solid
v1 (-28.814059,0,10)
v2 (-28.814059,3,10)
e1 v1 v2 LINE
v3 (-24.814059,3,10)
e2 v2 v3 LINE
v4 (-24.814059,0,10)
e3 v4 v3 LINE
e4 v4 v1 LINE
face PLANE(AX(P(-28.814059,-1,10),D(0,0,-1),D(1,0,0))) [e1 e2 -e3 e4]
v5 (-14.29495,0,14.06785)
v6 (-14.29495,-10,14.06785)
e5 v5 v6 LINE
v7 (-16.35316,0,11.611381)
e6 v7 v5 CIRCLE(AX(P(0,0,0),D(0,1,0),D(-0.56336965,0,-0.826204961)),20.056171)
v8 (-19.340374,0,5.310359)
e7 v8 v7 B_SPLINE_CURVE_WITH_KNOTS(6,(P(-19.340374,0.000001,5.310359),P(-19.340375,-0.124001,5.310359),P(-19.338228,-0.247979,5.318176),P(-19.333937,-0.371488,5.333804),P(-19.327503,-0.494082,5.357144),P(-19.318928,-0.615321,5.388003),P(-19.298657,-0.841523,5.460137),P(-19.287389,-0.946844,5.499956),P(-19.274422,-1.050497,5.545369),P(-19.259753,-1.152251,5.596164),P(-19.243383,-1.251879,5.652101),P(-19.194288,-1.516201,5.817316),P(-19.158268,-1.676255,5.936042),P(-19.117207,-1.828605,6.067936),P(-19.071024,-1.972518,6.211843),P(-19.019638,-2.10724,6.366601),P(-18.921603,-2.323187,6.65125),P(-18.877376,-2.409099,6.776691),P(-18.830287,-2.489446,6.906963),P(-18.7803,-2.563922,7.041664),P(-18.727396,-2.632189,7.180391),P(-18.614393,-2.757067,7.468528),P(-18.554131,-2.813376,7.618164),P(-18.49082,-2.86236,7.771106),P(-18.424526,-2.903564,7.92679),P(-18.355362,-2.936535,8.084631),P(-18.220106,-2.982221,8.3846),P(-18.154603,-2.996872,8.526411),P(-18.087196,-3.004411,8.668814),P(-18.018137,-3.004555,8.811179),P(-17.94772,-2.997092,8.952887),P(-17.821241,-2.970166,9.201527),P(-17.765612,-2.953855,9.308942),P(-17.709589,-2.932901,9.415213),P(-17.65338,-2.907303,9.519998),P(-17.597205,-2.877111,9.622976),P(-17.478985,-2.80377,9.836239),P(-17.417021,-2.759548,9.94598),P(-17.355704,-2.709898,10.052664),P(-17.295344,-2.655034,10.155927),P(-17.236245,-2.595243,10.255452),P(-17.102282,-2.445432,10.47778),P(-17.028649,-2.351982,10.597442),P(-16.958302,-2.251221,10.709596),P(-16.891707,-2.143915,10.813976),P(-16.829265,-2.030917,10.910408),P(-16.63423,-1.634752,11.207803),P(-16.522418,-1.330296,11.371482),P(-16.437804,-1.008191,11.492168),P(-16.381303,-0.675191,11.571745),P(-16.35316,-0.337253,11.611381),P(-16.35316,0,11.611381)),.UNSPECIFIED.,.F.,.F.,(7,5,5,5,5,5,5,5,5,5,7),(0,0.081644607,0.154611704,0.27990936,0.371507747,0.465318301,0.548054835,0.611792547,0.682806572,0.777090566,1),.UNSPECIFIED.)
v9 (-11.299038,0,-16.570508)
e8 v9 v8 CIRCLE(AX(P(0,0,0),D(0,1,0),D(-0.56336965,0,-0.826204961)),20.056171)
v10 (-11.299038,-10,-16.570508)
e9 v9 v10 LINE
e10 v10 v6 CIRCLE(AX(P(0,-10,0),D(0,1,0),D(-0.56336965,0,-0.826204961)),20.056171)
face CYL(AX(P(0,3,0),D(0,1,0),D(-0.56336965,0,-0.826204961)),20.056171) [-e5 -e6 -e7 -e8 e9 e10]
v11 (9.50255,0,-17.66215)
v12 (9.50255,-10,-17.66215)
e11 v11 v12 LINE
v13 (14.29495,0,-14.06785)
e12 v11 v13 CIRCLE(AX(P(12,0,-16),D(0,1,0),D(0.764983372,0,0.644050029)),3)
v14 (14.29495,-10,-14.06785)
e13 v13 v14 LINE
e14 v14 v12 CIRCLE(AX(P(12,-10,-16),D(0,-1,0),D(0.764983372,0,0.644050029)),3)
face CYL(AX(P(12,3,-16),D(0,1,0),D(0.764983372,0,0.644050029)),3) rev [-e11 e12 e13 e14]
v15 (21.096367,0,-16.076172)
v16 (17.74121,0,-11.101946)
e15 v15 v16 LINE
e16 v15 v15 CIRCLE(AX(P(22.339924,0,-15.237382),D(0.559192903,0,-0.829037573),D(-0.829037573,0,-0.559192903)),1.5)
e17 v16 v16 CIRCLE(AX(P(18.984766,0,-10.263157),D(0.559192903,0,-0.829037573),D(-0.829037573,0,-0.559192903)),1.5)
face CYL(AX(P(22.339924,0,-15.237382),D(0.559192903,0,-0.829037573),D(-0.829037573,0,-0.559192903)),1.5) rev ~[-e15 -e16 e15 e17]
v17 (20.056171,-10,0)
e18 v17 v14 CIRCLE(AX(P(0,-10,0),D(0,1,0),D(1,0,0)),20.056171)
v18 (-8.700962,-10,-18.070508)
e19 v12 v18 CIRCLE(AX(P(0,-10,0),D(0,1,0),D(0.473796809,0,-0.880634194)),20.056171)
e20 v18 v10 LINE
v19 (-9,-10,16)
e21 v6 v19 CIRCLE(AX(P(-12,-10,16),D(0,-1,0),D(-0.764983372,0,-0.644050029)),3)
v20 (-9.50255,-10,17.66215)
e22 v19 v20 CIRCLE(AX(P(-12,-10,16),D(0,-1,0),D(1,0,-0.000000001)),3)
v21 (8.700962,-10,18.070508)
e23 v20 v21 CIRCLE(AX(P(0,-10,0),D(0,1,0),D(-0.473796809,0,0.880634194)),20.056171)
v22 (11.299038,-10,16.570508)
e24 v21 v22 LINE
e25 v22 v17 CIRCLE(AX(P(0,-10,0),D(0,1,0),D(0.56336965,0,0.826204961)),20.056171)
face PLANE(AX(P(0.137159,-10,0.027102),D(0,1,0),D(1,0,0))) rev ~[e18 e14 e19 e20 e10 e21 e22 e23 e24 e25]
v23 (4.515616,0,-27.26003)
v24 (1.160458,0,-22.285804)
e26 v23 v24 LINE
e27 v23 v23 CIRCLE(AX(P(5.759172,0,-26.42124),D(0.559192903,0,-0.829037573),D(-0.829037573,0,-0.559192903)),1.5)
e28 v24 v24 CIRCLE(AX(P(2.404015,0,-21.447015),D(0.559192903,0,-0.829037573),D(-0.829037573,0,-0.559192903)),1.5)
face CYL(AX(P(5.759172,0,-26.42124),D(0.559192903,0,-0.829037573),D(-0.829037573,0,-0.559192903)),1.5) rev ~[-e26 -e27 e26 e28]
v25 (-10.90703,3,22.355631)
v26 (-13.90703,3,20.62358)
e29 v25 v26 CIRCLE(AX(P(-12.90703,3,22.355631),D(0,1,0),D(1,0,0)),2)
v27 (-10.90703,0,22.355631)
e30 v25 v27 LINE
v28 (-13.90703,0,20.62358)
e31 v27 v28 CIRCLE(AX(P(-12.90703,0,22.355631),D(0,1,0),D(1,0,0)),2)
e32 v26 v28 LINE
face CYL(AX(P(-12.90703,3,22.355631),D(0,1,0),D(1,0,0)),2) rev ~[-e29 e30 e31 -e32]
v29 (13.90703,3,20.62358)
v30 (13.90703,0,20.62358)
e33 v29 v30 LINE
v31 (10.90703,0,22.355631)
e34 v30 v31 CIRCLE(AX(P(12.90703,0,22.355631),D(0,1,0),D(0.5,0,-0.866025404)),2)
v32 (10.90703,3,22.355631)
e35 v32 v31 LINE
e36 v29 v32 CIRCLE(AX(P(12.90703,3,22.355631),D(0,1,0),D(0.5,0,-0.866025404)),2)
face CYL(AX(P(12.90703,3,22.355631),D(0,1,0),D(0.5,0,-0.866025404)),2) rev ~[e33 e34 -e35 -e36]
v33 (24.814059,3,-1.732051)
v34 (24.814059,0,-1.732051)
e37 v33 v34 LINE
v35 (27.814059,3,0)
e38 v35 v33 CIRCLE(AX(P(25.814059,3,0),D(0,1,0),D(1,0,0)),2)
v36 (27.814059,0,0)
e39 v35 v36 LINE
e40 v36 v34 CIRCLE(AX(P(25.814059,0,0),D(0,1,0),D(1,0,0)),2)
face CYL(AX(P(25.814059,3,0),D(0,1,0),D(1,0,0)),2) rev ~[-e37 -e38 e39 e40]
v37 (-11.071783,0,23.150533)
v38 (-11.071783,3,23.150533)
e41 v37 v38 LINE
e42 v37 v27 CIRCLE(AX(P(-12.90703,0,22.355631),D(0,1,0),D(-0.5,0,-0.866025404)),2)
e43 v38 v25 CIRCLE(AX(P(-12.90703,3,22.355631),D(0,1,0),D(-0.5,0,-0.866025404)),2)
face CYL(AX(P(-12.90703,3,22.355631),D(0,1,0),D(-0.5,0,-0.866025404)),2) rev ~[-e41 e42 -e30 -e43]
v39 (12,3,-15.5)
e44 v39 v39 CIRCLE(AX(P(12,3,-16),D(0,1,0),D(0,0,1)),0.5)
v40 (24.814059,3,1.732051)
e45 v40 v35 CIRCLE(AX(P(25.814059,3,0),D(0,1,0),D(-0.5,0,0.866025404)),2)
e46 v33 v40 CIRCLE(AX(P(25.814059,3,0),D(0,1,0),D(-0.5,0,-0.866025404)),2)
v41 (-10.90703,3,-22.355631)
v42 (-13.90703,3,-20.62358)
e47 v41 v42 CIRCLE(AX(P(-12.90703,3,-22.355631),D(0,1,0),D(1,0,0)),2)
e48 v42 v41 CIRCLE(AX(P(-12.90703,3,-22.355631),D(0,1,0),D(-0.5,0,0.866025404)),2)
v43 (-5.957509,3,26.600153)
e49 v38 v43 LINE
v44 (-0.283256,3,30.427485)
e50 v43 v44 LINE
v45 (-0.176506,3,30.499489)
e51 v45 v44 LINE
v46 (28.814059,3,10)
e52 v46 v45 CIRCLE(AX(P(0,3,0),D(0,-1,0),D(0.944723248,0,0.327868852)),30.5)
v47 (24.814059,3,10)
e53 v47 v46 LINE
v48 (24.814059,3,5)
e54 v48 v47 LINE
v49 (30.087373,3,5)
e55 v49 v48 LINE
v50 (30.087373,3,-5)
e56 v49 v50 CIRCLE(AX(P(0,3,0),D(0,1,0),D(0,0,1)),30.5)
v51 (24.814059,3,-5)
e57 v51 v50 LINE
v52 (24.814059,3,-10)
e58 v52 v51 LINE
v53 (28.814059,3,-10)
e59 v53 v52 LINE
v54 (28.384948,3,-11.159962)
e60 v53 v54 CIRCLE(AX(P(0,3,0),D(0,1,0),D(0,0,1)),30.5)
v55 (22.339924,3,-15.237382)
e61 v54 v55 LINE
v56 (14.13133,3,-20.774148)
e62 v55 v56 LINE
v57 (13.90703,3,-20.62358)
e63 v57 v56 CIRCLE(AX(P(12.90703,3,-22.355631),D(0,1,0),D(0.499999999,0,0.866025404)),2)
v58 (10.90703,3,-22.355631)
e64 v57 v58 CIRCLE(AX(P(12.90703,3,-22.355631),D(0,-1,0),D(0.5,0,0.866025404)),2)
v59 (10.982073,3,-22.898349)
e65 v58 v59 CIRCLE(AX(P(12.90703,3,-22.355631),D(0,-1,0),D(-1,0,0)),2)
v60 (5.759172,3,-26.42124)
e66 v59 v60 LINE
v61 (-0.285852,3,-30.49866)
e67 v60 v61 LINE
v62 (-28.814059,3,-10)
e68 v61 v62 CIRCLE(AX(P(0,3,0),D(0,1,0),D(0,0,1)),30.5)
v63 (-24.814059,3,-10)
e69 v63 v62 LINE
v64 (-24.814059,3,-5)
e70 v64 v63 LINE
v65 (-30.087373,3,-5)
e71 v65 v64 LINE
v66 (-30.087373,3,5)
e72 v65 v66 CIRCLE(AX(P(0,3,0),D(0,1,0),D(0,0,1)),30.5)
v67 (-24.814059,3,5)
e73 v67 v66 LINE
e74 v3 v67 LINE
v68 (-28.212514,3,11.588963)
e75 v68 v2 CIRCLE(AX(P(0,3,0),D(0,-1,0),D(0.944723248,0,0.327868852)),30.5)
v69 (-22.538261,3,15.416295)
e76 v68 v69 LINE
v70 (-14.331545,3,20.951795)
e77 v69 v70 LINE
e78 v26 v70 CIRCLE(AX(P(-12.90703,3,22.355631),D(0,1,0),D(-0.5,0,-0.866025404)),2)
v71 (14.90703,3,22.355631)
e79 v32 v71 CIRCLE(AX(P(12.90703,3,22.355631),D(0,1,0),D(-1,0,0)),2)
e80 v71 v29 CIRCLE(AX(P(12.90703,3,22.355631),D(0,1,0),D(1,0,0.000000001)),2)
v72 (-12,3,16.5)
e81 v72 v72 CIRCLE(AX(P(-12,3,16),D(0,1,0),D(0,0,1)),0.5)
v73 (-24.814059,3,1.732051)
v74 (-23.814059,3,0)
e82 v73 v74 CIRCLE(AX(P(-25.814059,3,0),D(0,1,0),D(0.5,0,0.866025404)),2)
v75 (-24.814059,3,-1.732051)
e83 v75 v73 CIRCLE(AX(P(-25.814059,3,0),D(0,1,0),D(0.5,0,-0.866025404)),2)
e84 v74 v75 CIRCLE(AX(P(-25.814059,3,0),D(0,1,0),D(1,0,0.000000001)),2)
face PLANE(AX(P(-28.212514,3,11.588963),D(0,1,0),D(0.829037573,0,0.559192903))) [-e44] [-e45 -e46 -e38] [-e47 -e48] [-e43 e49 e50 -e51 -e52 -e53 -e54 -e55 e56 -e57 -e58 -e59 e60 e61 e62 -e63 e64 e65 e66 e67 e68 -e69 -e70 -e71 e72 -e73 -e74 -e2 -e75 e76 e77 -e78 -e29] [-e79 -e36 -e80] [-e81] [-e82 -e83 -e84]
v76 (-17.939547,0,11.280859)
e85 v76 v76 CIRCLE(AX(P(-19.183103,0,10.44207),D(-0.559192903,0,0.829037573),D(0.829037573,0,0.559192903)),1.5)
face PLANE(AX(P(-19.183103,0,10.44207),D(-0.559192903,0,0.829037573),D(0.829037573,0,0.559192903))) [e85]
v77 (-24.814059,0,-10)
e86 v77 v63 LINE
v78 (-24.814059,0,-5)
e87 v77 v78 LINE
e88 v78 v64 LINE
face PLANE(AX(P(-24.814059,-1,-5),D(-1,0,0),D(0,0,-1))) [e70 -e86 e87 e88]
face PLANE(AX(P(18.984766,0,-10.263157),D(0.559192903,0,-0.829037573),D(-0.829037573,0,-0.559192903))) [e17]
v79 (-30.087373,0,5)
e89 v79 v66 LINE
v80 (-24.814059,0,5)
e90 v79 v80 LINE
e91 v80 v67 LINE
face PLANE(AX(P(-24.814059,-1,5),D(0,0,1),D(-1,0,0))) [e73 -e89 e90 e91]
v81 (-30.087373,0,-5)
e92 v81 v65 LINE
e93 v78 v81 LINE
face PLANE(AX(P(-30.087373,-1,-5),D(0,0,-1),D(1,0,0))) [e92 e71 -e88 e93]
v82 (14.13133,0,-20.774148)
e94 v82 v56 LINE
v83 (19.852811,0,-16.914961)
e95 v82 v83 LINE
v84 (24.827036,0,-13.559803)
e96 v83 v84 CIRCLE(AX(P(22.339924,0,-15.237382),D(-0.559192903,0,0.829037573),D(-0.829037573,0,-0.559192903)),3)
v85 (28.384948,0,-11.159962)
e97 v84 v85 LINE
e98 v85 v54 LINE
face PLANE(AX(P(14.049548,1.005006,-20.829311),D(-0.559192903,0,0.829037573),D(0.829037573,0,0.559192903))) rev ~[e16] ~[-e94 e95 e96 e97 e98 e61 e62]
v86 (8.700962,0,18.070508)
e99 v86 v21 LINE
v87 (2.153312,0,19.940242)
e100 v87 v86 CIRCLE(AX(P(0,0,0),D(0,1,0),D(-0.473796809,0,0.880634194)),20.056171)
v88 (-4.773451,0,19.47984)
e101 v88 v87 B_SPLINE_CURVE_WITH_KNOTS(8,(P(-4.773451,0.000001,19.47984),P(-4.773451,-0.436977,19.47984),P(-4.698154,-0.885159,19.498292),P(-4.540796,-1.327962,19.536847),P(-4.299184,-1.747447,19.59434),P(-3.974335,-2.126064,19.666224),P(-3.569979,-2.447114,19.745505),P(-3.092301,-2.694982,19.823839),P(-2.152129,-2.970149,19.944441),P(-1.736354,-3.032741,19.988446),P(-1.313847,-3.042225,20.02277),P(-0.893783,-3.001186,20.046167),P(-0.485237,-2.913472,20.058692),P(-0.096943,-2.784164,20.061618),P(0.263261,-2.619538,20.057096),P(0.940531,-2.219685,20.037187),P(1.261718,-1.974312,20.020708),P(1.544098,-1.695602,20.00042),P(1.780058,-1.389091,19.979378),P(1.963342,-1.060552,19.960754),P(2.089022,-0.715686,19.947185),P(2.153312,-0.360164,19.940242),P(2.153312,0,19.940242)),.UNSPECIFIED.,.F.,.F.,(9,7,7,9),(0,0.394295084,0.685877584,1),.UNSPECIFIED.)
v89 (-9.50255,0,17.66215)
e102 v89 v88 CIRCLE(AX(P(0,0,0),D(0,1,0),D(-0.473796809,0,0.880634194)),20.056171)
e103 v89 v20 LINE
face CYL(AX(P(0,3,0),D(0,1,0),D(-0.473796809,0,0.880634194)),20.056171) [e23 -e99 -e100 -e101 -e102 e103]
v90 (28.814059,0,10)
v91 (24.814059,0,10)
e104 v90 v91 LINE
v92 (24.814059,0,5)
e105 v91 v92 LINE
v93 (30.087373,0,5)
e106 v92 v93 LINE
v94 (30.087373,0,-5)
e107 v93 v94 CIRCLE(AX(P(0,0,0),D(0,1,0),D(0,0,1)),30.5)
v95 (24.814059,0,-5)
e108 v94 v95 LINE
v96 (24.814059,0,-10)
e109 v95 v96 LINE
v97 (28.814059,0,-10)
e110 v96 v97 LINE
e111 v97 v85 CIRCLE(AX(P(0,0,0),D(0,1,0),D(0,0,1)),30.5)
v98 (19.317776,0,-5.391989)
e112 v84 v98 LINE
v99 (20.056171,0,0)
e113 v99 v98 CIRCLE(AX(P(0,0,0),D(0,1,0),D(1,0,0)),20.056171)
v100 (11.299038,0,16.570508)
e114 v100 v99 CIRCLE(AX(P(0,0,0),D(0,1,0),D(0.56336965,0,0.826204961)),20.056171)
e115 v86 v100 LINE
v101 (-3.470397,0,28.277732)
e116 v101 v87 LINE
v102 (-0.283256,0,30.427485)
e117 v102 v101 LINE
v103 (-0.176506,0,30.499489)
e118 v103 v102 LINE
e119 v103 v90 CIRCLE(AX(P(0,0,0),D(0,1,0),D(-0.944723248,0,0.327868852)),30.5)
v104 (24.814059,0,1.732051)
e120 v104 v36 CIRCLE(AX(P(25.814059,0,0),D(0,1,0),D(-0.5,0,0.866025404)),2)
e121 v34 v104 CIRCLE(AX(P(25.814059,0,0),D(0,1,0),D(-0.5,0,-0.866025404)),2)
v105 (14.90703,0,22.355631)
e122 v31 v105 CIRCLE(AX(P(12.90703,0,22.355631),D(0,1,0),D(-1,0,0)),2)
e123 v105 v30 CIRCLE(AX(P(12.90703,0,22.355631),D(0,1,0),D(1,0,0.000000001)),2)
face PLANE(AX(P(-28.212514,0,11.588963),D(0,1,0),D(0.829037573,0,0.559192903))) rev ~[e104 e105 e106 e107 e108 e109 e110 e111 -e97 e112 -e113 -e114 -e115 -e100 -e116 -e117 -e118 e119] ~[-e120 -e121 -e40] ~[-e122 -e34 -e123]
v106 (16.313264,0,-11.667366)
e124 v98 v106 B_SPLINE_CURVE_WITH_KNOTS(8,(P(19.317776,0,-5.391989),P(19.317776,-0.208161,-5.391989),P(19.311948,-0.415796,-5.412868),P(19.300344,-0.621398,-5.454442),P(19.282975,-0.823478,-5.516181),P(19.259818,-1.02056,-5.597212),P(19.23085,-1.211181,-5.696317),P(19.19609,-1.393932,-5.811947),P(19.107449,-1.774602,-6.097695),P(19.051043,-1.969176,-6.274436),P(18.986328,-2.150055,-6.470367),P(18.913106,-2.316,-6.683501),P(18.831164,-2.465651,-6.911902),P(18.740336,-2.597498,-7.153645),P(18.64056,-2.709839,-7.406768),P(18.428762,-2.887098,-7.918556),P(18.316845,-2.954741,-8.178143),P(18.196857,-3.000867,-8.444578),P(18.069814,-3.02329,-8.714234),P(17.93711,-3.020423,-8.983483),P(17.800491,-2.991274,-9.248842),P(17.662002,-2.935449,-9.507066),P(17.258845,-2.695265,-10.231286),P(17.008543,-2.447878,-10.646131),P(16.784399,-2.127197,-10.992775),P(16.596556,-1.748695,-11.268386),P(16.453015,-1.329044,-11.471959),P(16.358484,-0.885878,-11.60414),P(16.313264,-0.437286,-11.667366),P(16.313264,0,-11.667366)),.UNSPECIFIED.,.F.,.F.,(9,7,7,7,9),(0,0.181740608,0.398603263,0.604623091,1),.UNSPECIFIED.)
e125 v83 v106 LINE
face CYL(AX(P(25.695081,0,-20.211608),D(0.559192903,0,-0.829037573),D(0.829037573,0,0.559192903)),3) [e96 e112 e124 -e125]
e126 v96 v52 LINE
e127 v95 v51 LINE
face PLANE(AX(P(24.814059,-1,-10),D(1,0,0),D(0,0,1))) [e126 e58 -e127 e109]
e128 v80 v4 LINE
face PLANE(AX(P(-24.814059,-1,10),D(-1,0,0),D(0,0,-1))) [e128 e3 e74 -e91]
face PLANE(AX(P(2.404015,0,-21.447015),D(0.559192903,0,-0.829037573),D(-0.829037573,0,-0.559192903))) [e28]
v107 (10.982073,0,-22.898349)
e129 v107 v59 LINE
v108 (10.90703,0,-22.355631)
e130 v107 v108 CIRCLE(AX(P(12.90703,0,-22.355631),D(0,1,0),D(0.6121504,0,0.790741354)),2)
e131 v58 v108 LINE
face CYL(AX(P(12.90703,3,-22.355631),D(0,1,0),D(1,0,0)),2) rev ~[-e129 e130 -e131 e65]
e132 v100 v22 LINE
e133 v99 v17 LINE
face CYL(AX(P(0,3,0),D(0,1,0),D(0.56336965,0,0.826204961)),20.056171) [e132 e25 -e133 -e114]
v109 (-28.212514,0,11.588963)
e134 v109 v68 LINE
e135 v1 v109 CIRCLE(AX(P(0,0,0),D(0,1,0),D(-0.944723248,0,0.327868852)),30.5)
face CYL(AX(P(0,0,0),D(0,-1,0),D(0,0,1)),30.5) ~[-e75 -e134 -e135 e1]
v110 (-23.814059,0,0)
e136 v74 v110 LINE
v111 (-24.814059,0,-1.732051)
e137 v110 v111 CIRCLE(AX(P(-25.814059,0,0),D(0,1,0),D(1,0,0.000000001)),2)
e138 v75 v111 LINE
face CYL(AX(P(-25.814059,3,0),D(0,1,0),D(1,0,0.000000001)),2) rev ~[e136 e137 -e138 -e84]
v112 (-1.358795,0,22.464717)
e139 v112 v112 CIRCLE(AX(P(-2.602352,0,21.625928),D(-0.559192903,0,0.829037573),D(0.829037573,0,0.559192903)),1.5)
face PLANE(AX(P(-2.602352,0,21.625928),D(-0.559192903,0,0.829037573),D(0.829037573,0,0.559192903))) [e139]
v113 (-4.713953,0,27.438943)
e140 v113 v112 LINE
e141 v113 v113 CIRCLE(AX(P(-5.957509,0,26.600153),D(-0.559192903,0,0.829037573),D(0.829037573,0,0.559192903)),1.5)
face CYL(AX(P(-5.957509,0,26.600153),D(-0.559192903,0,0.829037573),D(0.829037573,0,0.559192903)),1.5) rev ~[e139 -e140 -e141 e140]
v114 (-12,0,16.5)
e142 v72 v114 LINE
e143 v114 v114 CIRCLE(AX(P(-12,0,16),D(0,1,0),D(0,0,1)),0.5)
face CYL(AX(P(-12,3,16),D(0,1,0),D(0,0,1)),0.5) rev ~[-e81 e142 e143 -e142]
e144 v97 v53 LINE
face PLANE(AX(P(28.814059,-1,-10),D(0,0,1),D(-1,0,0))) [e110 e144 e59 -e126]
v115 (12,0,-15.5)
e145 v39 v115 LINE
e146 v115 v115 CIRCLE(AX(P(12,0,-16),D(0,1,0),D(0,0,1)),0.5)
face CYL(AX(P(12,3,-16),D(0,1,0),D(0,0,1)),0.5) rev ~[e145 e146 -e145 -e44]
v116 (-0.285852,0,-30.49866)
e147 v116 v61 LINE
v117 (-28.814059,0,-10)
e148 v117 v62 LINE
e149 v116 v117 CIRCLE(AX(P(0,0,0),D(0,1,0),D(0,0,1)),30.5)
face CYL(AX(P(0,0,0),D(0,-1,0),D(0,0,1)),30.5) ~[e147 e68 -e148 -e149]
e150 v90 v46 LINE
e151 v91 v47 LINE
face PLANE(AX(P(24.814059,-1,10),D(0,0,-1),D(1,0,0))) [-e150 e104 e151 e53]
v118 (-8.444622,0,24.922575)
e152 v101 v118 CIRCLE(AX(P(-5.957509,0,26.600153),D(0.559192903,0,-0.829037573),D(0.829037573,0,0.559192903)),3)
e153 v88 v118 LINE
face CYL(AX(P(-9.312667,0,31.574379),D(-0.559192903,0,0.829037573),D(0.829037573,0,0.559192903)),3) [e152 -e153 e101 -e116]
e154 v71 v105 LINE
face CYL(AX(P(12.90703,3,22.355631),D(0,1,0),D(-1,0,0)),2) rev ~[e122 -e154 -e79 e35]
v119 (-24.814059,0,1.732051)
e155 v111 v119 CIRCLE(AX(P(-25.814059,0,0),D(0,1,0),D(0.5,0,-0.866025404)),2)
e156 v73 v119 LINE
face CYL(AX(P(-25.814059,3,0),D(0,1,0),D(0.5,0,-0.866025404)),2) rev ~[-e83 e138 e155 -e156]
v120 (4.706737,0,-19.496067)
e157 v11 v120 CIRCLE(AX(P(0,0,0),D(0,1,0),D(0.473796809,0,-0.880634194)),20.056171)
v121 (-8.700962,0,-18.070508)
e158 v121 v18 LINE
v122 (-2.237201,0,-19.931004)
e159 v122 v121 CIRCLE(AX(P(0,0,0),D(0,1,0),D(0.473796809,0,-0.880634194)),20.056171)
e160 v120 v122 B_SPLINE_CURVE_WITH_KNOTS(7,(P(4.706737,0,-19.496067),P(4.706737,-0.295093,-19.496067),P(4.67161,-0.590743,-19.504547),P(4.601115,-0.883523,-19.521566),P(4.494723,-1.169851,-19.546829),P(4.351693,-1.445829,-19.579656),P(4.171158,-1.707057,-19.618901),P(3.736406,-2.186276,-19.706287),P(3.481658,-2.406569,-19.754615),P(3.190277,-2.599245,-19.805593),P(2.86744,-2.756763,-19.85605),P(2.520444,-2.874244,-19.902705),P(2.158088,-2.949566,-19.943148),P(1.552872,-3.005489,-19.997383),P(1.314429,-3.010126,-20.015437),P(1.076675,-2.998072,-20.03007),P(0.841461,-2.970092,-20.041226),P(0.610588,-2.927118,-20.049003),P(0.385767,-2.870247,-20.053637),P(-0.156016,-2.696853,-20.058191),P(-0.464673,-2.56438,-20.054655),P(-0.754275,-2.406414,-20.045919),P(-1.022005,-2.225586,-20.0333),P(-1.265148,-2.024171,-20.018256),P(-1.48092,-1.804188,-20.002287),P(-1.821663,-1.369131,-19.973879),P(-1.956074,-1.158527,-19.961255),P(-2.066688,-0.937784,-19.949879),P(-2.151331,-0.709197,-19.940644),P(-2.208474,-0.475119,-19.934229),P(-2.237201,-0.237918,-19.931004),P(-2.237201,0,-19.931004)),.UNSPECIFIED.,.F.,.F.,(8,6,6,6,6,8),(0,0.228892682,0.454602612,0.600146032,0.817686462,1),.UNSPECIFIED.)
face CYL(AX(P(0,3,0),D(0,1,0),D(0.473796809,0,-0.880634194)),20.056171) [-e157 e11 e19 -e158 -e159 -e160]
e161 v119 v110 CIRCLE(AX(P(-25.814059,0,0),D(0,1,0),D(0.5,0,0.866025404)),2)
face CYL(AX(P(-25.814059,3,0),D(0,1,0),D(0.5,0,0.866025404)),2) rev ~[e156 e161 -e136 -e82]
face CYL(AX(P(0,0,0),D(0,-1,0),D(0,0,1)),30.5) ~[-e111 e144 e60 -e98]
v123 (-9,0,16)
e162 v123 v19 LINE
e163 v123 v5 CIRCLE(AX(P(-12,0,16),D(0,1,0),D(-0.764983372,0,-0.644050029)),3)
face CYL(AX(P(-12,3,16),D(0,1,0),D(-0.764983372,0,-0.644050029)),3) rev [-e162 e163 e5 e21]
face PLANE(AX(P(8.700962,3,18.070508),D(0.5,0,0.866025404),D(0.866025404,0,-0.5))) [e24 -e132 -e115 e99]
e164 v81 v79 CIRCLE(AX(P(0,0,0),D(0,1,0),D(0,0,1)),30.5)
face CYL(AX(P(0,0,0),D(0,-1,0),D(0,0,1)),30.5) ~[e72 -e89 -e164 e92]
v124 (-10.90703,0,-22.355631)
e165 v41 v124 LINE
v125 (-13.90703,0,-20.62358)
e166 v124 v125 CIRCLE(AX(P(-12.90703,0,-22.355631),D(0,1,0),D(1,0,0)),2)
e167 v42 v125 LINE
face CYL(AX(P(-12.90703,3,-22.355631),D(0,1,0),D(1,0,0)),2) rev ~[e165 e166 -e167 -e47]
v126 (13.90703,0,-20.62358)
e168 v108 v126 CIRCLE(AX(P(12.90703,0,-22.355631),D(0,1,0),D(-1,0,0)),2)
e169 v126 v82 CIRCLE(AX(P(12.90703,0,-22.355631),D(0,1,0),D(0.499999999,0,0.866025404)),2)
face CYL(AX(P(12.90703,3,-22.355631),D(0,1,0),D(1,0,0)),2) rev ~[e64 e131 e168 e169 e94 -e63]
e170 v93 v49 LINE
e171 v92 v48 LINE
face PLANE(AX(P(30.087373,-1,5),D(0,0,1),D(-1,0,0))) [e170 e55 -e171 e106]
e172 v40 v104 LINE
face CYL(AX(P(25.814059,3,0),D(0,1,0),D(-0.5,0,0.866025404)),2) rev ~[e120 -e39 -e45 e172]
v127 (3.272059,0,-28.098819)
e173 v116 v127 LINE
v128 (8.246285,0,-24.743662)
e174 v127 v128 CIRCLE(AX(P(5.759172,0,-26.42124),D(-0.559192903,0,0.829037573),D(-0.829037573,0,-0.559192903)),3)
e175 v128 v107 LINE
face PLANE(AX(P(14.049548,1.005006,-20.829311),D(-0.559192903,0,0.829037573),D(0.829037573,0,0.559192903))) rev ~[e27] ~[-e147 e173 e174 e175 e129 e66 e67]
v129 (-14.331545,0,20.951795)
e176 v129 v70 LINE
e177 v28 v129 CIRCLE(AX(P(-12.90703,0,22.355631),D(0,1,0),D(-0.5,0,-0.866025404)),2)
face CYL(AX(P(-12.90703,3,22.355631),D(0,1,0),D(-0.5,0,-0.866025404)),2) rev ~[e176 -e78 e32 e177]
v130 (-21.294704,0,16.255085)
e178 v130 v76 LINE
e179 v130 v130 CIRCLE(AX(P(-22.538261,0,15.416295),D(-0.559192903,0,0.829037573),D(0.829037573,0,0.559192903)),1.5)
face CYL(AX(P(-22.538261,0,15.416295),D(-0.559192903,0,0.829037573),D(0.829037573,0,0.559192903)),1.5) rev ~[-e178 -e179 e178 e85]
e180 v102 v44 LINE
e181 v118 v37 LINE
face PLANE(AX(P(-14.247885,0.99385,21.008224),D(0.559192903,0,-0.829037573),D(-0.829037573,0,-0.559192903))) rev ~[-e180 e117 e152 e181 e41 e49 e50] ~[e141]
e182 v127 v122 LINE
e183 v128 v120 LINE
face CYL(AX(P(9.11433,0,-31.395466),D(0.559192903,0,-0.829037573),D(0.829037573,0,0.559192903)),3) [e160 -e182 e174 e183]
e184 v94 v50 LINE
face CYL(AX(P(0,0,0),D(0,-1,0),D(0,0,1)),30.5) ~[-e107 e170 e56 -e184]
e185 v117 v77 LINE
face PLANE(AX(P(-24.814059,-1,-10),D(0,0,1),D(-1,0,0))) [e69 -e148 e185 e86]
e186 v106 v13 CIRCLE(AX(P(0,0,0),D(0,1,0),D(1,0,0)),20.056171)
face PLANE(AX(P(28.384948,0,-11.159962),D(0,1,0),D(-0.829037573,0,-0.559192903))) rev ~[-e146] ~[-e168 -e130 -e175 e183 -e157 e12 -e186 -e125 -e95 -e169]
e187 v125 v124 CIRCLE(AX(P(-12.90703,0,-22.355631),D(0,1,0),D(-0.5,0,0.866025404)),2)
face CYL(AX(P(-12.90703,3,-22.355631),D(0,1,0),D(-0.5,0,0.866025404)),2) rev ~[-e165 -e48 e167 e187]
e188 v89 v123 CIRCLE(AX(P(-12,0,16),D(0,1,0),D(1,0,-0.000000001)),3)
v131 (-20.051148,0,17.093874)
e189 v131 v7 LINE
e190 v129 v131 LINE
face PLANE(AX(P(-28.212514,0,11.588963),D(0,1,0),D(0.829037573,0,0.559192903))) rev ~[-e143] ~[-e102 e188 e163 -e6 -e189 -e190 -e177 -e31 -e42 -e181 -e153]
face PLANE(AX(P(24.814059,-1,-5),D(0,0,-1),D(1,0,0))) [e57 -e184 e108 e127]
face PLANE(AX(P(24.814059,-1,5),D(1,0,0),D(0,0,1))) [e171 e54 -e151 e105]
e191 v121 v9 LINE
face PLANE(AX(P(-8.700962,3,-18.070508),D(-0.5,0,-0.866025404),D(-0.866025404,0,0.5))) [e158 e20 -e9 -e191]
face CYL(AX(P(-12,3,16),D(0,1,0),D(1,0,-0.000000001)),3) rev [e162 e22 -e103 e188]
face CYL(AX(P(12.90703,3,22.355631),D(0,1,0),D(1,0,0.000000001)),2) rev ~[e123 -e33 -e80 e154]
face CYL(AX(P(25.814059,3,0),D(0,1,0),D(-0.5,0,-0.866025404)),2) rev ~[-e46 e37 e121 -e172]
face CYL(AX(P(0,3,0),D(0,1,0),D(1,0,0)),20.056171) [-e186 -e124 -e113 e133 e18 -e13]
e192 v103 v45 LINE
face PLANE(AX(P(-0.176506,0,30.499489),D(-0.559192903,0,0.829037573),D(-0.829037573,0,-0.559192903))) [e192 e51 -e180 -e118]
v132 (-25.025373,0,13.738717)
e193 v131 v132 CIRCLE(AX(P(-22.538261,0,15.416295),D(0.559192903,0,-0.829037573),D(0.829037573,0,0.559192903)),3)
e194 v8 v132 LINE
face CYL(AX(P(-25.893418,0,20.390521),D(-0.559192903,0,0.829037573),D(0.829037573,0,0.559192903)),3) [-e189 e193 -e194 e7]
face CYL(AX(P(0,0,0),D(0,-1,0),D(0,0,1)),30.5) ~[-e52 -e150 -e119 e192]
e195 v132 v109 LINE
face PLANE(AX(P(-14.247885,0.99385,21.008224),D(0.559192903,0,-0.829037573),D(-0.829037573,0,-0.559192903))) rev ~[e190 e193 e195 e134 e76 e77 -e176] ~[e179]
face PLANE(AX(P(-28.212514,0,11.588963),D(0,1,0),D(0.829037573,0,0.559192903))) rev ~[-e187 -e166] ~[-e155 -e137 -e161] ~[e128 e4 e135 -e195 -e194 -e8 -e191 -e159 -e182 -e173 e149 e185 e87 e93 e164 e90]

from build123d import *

# Parameters (mm, degrees)
CROQUIS1_R              = 30.5
SALIENTE_EXTRUIR1_DEPTH = 3
CORTAR_EXTRUIR3_START   = -4
CORTAR_EXTRUIR3_DEPTH   = 4
CORTAR_EXTRUIR4_DEPTH   = 10
CROQUIS8_R              = 0.5
CORTAR_EXTRUIR5_DEPTH   = 3
SALIENTE_EXTRUIR2_DEPTH = 13
CROQUIS11_W             = 34.583232932
CROQUIS11_H             = 3
SALIENTE_EXTRUIR3_DEPTH = 6
CROQUIS12_R             = 2
CORTAR_EXTRUIR7_DEPTH   = 3
SALIENTE_EXTRUIR4_DEPTH = 20
CROQUIS14_R             = 1.5
CORTAR_EXTRUIR8_DEPTH   = 6
CORTAR_EXTRUIR9_START   = -3
CORTAR_EXTRUIR9_DEPTH   = 3
CROQUIS16_W             = 33.68877148
CROQUIS16_H             = 3
SALIENTE_EXTRUIR5_DEPTH = 6
CROQUIS17_R             = 2
CORTAR_EXTRUIR10_DEPTH  = 3
CROQUIS18_R             = 3
SALIENTE_EXTRUIR6_DEPTH = 25
CROQUIS19_R             = 1.5
CORTAR_EXTRUIR11_DEPTH  = 5
CORTAR_EXTRUIR12_DEPTH  = 6
CORTAR_EXTRUIR13_DEPTH  = 6
CROQUIS22_R             = 1.5
CORTAR_EXTRUIR14_DEPTH  = 6
CROQUIS23_R             = 1.5
CORTAR_EXTRUIR15_DEPTH  = 6


with BuildPart() as part:
    # Croquis1 → Saliente-Extruir1 (new body)
    with BuildSketch(Plane(origin=(0, 0, 0), x_dir=(1, 0, 0), z_dir=(0, 1, 0))):
        with Locations(Location((0, 0, 0), (0, 0, 270))):
            Circle(CROQUIS1_R)
    extrude(amount=SALIENTE_EXTRUIR1_DEPTH)

    # Croquis5 → Cortar-Extruir3 (cut)
    with BuildSketch(Plane(origin=(0, 3, 0), x_dir=(1, 0, 0), z_dir=(0, 1, 0)).offset(CORTAR_EXTRUIR3_START)):
        with BuildLine():
            ThreePointArc((-30.087372767, -5), (-29.556634924, -7.526973624), (-28.814059068, -10))
            Line((-28.814059068, -10), (-24.814059068, -10))
            Line((-24.814059068, -10), (-24.814059068, -5))
            Line((-24.814059068, -5), (-28.814059068, -5))
            Line((-28.814059068, -5), (-30.087372767, -5))
        make_face()
        with BuildLine():
            ThreePointArc((-28.814059068, 10), (-29.556634924, 7.526973624), (-30.087372767, 5))
            Line((-30.087372767, 5), (-28.814059068, 5))
            Line((-28.814059068, 5), (-24.814059068, 5))
            Line((-24.814059068, 5), (-24.814059068, 10))
            Line((-24.814059068, 10), (-28.814059068, 10))
        make_face()
        with BuildLine():
            Line((28.814059068, 5), (30.087372767, 5))
            ThreePointArc((30.087372767, 5), (29.556634924, 7.526973624), (28.814059068, 10))
            Line((28.814059068, 10), (24.814059068, 10))
            Line((24.814059068, 10), (24.814059068, 5))
            Line((24.814059068, 5), (28.814059068, 5))
        make_face()
        with BuildLine():
            Line((30.087372767, -5), (28.814059068, -5))
            Line((28.814059068, -5), (24.814059068, -5))
            Line((24.814059068, -5), (24.814059068, -10))
            Line((24.814059068, -10), (28.814059068, -10))
            ThreePointArc((28.814059068, -10), (29.556634924, -7.526973624), (30.087372767, -5))
        make_face()
    extrude(amount=CORTAR_EXTRUIR3_DEPTH, mode=Mode.SUBTRACT)

    # Croquis7 → Cortar-Extruir4 (cut)
    with BuildSketch(Plane(origin=(0, 3, 0), x_dir=(1, 0, 0), z_dir=(0, 1, 0))):
        with BuildLine():
            ThreePointArc((-13.907029535, 20.623580122), (-11.907029535, 20.623580122), (-10.907029535, 22.355630929))
            Line((-10.907029535, 22.355630929), (-12.907029535, 22.355630929))
            Line((-12.907029535, 22.355630929), (-13.907029535, 20.623580122))
        make_face()
        with BuildLine():
            Line((-12.907029535, 22.355630929), (-10.907029535, 22.355630929))
            ThreePointArc((-10.907029535, 22.355630929), (-13.907029535, 24.087681737), (-13.907029535, 20.623580122))
            Line((-13.907029535, 20.623580122), (-12.907029535, 22.355630929))
        make_face()
        with BuildLine():
            ThreePointArc((-23.81405907, 0), (-24.082008262, 1), (-24.81405907, 1.732050808))
            Line((-24.81405907, 1.732050808), (-25.81405907, 0))
            Line((-25.81405907, 0), (-24.81405907, -1.732050808))
            ThreePointArc((-24.81405907, -1.732050808), (-24.082008262, -1), (-23.81405907, 0))
        make_face()
        with BuildLine():
            Line((-25.81405907, 0), (-24.81405907, 1.732050808))
            ThreePointArc((-24.81405907, 1.732050808), (-27.81405907, 0), (-24.81405907, -1.732050808))
            Line((-24.81405907, -1.732050808), (-25.81405907, 0))
        make_face()
        with BuildLine():
            ThreePointArc((10.907029535, 22.355630929), (11.907029535, 20.623580122), (13.907029535, 20.623580122))
            Line((13.907029535, 20.623580122), (12.907029535, 22.355630929))
            Line((12.907029535, 22.355630929), (10.907029535, 22.355630929))
        make_face()
        with BuildLine():
            Line((12.907029535, 22.355630929), (13.907029535, 20.623580122))
            ThreePointArc((13.907029535, 20.623580122), (14.639080343, 21.355630929), (14.907029535, 22.355630929))
            ThreePointArc((14.907029535, 22.355630929), (12.907029535, 24.355630929), (10.907029535, 22.355630929))
            Line((10.907029535, 22.355630929), (12.907029535, 22.355630929))
        make_face()
        with BuildLine():
            Line((24.81405907, -1.732050808), (25.81405907, 0))
            Line((25.81405907, 0), (24.81405907, 1.732050808))
            ThreePointArc((24.81405907, 1.732050808), (23.81405907, 0), (24.81405907, -1.732050808))
        make_face()
        with BuildLine():
            Line((24.81405907, 1.732050808), (25.81405907, 0))
            Line((25.81405907, 0), (24.81405907, -1.732050808))
            ThreePointArc((24.81405907, -1.732050808), (26.81405907, -1.732050808), (27.81405907, 0))
            ThreePointArc((27.81405907, 0), (26.81405907, 1.732050808), (24.81405907, 1.732050808))
        make_face()
        with BuildLine():
            ThreePointArc((-13.907029535, -20.623580122), (-13.907029535, -24.087681737), (-10.907029535, -22.355630929))
            Line((-10.907029535, -22.355630929), (-12.907029535, -22.355630929))
            Line((-12.907029535, -22.355630929), (-13.907029535, -20.623580122))
        make_face()
        with BuildLine():
            Line((-12.907029535, -22.355630929), (-10.907029535, -22.355630929))
            ThreePointArc((-10.907029535, -22.355630929), (-11.907029535, -20.623580122), (-13.907029535, -20.623580122))
            Line((-13.907029535, -20.623580122), (-12.907029535, -22.355630929))
        make_face()
        with BuildLine():
            ThreePointArc((14.907029535, -22.355630929), (14.639080343, -21.355630929), (13.907029535, -20.623580122))
            Line((13.907029535, -20.623580122), (12.907029535, -22.355630929))
            Line((12.907029535, -22.355630929), (10.907029535, -22.355630929))
            ThreePointArc((10.907029535, -22.355630929), (12.907029535, -24.355630929), (14.907029535, -22.355630929))
        make_face()
        with BuildLine():
            Line((12.907029535, -22.355630929), (13.907029535, -20.623580122))
            ThreePointArc((13.907029535, -20.623580122), (11.907029535, -20.623580122), (10.907029535, -22.355630929))
            Line((10.907029535, -22.355630929), (12.907029535, -22.355630929))
        make_face()
    extrude(amount=-CORTAR_EXTRUIR4_DEPTH, mode=Mode.SUBTRACT)

    # Croquis8 → Cortar-Extruir5 (cut)
    with BuildSketch(Plane(origin=(0, 3, 0), x_dir=(1, 0, 0), z_dir=(0, 1, 0))):
        with Locations(Location((12, 16, 0), (0, 0, 270))):
            Circle(CROQUIS8_R)
        with Locations(Location((-12, -16, 0), (0, 0, 270))):
            Circle(CROQUIS8_R)
    extrude(amount=-CORTAR_EXTRUIR5_DEPTH, mode=Mode.SUBTRACT)

    # Croquis9 → Saliente-Extruir2 (add)
    with BuildSketch(Plane(origin=(0, 3, 0), x_dir=(1, 0, 0), z_dir=(0, 1, 0))):
        with BuildLine():
            Line((-8.700961894, 18.070508076), (-10, 17.320508076))
            Line((-10, 17.320508076), (-11.299038106, 16.570508076))
            ThreePointArc((-11.299038106, 16.570508076), (-19.960969499, 1.951844427), (-14.294950117, -14.067849912))
            ThreePointArc((-14.294950117, -14.067849912), (-10.97161543, -13.181769141), (-9, -16))
            ThreePointArc((-9, -16), (-9.12838457, -16.868230859), (-9.502549883, -17.662150088))
            ThreePointArc((-9.502549883, -17.662150088), (-0.449805389, -20.05112653), (8.700961894, -18.070508076))
            Line((8.700961894, -18.070508076), (10, -17.320508076))
            Line((10, -17.320508076), (11.299038106, -16.570508076))
            ThreePointArc((11.299038106, -16.570508076), (17.732250869, -9.371087404), (20.05617112, 0))
            ThreePointArc((20.05617112, 0), (18.560064193, 7.600922125), (14.294950117, 14.067849912))
            ThreePointArc((14.294950117, 14.067849912), (10.2, 13.6), (9.502549883, 17.662150088))
            ThreePointArc((9.502549883, 17.662150088), (0.449805389, 20.05112653), (-8.700961894, 18.070508076))
        make_face()
    extrude(amount=-SALIENTE_EXTRUIR2_DEPTH)

    # Croquis11 → Saliente-Extruir3 (add)
    with BuildSketch(Plane(origin=(14.04954782, 0, -20.829311224), x_dir=(-0.8290375725550414, 0, -0.5591929034707472), z_dir=(0.5591929034707472, 0, -0.8290375725550414))):
        with Locations((0, 1.5)):
            Rectangle(CROQUIS11_W, CROQUIS11_H)
    extrude(amount=SALIENTE_EXTRUIR3_DEPTH)

    # Croquis12 → Cortar-Extruir7 (cut)
    with BuildSketch(Plane(origin=(0, 3, 0), x_dir=(1, 0, 0), z_dir=(0, 1, 0))):
        with Locations(Location((12.907029535, 22.355630929, 0), (0, 0, 270))):
            Circle(CROQUIS12_R)
    extrude(amount=-CORTAR_EXTRUIR7_DEPTH, mode=Mode.SUBTRACT)

    # Croquis13 → Saliente-Extruir4 (add)
    with BuildSketch(Plane(origin=(17.404705241, 0, -25.803536659), x_dir=(-0.8290375725550414, 0, -0.5591929034707472), z_dir=(0.5591929034707472, 0, -0.8290375725550414))):
        with BuildLine():
            ThreePointArc((10, 3), (7.878679656, 2.121320344), (7, 0))
            Line((7, 0), (8.5, 0))
            ThreePointArc((8.5, 0), (10, 1.5), (11.5, 0))
            Line((11.5, 0), (13, 0))
            ThreePointArc((13, 0), (12.121320344, 2.121320344), (10, 3))
        make_face()
        with BuildLine():
            Line((8.5, 0), (7, 0))
            ThreePointArc((7, 0), (10, -3), (13, 0))
            Line((13, 0), (11.5, 0))
            ThreePointArc((11.5, 0), (10, -1.5), (8.5, 0))
        make_face()
        with BuildLine():
            ThreePointArc((-11.5, 0), (-10, 1.5), (-8.5, 0))
            Line((-8.5, 0), (-7, 0))
            ThreePointArc((-7, 0), (-7.878679656, 2.121320343), (-9.999999999, 3))
            ThreePointArc((-9.999999999, 3), (-12.121320343, 2.121320344), (-13, 0))
            Line((-13, 0), (-11.5, 0))
        make_face()
        with BuildLine():
            Line((-7, 0), (-8.5, 0))
            ThreePointArc((-8.5, 0), (-10, -1.5), (-11.5, 0))
            Line((-11.5, 0), (-13, 0))
            ThreePointArc((-13, 0), (-10, -3), (-7, 0))
        make_face()
        with BuildLine():
            ThreePointArc((-11.5, 0), (-10, -1.5), (-8.5, 0))
            Line((-8.5, 0), (-11.5, 0))
        make_face()
        with BuildLine():
            Line((-11.5, 0), (-8.5, 0))
            ThreePointArc((-8.5, 0), (-10, 1.5), (-11.5, 0))
        make_face()
        with BuildLine():
            ThreePointArc((11.5, 0), (10, 1.5), (8.5, 0))
            Line((8.5, 0), (11.5, 0))
        make_face()
        with BuildLine():
            Line((11.5, 0), (8.5, 0))
            ThreePointArc((8.5, 0), (10, -1.5), (11.5, 0))
        make_face()
    extrude(amount=-SALIENTE_EXTRUIR4_DEPTH)

    # Croquis14 → Cortar-Extruir8 (cut)
    with BuildSketch(Plane(origin=(17.404705241, 0, -25.803536659), x_dir=(-0.8290375725550414, 0, -0.5591929034707472), z_dir=(0.5591929034707472, 0, -0.8290375725550414))):
        with Locations((-10, 0)):
            Circle(CROQUIS14_R)
        with Locations((10, 0)):
            Circle(CROQUIS14_R)
    extrude(amount=-CORTAR_EXTRUIR8_DEPTH, mode=Mode.SUBTRACT)

    # Croquis15 → Cortar-Extruir9 (cut)
    with BuildSketch(Plane(origin=(0, 3, 0), x_dir=(1, 0, 0), z_dir=(0, 1, 0)).offset(CORTAR_EXTRUIR9_START)):
        with BuildLine():
            ThreePointArc((-28.212513648, -11.588963441), (-17.055383556, -25.285645963), (-0.176506165, -30.499489267))
            Line((-0.176506165, -30.499489267), (-11.071782568, -23.15053254))
            ThreePointArc((-11.071782568, -23.15053254), (-14.025415342, -24.013706075), (-14.331545089, -20.951794957))
            Line((-14.331545089, -20.951794957), (-28.212513648, -11.588963441))
        make_face()
    extrude(amount=CORTAR_EXTRUIR9_DEPTH, mode=Mode.SUBTRACT)

    # Croquis16 → Saliente-Extruir5 (add)
    with BuildSketch(Plane(origin=(-14.194509906, 0, 21.044226354), x_dir=(0.8290375725550415, 0, 0.5591929034707472), z_dir=(-0.5591929034707471, 0, 0.8290375725550414))):
        with Locations((-0.064381976, 1.5)):
            Rectangle(CROQUIS16_W, CROQUIS16_H)
    extrude(amount=SALIENTE_EXTRUIR5_DEPTH)

    # Croquis17 → Cortar-Extruir10 (cut)
    with BuildSketch(Plane(origin=(0, 3, 0), x_dir=(1, 0, 0), z_dir=(0, 1, 0))):
        with Locations(Location((-12.907029535, -22.355630929, 0), (0, 0, 270))):
            Circle(CROQUIS17_R)
    extrude(amount=-CORTAR_EXTRUIR10_DEPTH, mode=Mode.SUBTRACT)

    # Croquis18 → Saliente-Extruir6 (add)
    with BuildSketch(Plane(origin=(-17.549667327, 0, 26.01845179), x_dir=(0.8290375725550416, 0, 0.5591929034707471), z_dir=(-0.5591929034707471, 0, 0.8290375725550416))):
        with Locations((9.935618024, 0)):
            Circle(CROQUIS18_R)
        with Locations((-10.064381976, 0)):
            Circle(CROQUIS18_R)
    extrude(amount=-SALIENTE_EXTRUIR6_DEPTH)

    # Croquis19 → Cortar-Extruir11 (cut)
    with BuildSketch(Plane(origin=(-17.549667327, 0, 26.01845179), x_dir=(0.8290375725550416, 0, 0.5591929034707471), z_dir=(-0.5591929034707471, 0, 0.8290375725550416))):
        with Locations((-10.064381976, 0)):
            Circle(CROQUIS19_R)
        with Locations((9.935618024, 0)):
            Circle(CROQUIS19_R)
    extrude(amount=-CORTAR_EXTRUIR11_DEPTH, mode=Mode.SUBTRACT)

    # Croquis20 → Cortar-Extruir12 (cut)
    with BuildSketch(Plane(origin=(17.404705241, 0, -25.803536659), x_dir=(-0.8290375725550413, 0, -0.5591929034707475), z_dir=(0.5591929034707475, 0, -0.8290375725550414))):
        with BuildLine():
            Line((17.291616466, 3), (17.291616466, 0))
            Line((17.291616466, 0), (13, 0))
            ThreePointArc((13, 0), (10, -3), (7, 0))
            Line((7, 0), (-7, 0))
            ThreePointArc((-7, 0), (-10, -3), (-13, 0))
            Line((-13, 0), (-17.291616466, 0))
            Line((-17.291616466, 0), (-17.291616466, 3))
            Line((-17.291616466, 3), (17.291616466, 3))
        make_face()
    extrude(amount=-CORTAR_EXTRUIR12_DEPTH, mode=Mode.SUBTRACT)

    # Croquis21 → Cortar-Extruir13 (cut)
    with BuildSketch(Plane(origin=(-17.549667327, 0, 26.01845179), x_dir=(0.8290375725550416, 0, 0.5591929034707471), z_dir=(-0.5591929034707471, 0, 0.8290375725550416))):
        with BuildLine():
            Line((-13.064381976, 0), (-16.908767716, 0))
            Line((-16.908767716, 0), (-16.908767716, 3))
            Line((-16.908767716, 3), (16.780003764, 3))
            Line((16.780003764, 3), (16.780003764, 0))
            Line((16.780003764, 0), (12.935618024, 0))
            ThreePointArc((12.935618024, 0), (9.935618024, -3), (6.935618024, 0))
            Line((6.935618024, 0), (-7.064381976, 0))
            ThreePointArc((-7.064381976, 0), (-10.064381976, -3), (-13.064381976, 0))
        make_face()
    extrude(amount=-CORTAR_EXTRUIR13_DEPTH, mode=Mode.SUBTRACT)

    # Croquis22 → Cortar-Extruir14 (cut)
    with BuildSketch(Plane(origin=(-14.194509906, 0, 21.044226354), x_dir=(0.8290375725550415, 0, 0.5591929034707471), z_dir=(-0.5591929034707471, 0, 0.8290375725550415))):
        with Locations((-10.064381976, 0)):
            Circle(CROQUIS22_R)
        with Locations((9.935618024, 0)):
            Circle(CROQUIS22_R)
    extrude(amount=-CORTAR_EXTRUIR14_DEPTH, mode=Mode.SUBTRACT)

    # Croquis23 → Cortar-Extruir15 (cut)
    with BuildSketch(Plane(origin=(14.04954782, 0, -20.829311224), x_dir=(-0.8290375725550414, 0, -0.5591929034707472), z_dir=(0.5591929034707472, 0, -0.8290375725550414))):
        with Locations((-10, 0)):
            Circle(CROQUIS23_R)
        with Locations((10, 0)):
            Circle(CROQUIS23_R)
    extrude(amount=-CORTAR_EXTRUIR15_DEPTH, mode=Mode.SUBTRACT)


solid = part.part
